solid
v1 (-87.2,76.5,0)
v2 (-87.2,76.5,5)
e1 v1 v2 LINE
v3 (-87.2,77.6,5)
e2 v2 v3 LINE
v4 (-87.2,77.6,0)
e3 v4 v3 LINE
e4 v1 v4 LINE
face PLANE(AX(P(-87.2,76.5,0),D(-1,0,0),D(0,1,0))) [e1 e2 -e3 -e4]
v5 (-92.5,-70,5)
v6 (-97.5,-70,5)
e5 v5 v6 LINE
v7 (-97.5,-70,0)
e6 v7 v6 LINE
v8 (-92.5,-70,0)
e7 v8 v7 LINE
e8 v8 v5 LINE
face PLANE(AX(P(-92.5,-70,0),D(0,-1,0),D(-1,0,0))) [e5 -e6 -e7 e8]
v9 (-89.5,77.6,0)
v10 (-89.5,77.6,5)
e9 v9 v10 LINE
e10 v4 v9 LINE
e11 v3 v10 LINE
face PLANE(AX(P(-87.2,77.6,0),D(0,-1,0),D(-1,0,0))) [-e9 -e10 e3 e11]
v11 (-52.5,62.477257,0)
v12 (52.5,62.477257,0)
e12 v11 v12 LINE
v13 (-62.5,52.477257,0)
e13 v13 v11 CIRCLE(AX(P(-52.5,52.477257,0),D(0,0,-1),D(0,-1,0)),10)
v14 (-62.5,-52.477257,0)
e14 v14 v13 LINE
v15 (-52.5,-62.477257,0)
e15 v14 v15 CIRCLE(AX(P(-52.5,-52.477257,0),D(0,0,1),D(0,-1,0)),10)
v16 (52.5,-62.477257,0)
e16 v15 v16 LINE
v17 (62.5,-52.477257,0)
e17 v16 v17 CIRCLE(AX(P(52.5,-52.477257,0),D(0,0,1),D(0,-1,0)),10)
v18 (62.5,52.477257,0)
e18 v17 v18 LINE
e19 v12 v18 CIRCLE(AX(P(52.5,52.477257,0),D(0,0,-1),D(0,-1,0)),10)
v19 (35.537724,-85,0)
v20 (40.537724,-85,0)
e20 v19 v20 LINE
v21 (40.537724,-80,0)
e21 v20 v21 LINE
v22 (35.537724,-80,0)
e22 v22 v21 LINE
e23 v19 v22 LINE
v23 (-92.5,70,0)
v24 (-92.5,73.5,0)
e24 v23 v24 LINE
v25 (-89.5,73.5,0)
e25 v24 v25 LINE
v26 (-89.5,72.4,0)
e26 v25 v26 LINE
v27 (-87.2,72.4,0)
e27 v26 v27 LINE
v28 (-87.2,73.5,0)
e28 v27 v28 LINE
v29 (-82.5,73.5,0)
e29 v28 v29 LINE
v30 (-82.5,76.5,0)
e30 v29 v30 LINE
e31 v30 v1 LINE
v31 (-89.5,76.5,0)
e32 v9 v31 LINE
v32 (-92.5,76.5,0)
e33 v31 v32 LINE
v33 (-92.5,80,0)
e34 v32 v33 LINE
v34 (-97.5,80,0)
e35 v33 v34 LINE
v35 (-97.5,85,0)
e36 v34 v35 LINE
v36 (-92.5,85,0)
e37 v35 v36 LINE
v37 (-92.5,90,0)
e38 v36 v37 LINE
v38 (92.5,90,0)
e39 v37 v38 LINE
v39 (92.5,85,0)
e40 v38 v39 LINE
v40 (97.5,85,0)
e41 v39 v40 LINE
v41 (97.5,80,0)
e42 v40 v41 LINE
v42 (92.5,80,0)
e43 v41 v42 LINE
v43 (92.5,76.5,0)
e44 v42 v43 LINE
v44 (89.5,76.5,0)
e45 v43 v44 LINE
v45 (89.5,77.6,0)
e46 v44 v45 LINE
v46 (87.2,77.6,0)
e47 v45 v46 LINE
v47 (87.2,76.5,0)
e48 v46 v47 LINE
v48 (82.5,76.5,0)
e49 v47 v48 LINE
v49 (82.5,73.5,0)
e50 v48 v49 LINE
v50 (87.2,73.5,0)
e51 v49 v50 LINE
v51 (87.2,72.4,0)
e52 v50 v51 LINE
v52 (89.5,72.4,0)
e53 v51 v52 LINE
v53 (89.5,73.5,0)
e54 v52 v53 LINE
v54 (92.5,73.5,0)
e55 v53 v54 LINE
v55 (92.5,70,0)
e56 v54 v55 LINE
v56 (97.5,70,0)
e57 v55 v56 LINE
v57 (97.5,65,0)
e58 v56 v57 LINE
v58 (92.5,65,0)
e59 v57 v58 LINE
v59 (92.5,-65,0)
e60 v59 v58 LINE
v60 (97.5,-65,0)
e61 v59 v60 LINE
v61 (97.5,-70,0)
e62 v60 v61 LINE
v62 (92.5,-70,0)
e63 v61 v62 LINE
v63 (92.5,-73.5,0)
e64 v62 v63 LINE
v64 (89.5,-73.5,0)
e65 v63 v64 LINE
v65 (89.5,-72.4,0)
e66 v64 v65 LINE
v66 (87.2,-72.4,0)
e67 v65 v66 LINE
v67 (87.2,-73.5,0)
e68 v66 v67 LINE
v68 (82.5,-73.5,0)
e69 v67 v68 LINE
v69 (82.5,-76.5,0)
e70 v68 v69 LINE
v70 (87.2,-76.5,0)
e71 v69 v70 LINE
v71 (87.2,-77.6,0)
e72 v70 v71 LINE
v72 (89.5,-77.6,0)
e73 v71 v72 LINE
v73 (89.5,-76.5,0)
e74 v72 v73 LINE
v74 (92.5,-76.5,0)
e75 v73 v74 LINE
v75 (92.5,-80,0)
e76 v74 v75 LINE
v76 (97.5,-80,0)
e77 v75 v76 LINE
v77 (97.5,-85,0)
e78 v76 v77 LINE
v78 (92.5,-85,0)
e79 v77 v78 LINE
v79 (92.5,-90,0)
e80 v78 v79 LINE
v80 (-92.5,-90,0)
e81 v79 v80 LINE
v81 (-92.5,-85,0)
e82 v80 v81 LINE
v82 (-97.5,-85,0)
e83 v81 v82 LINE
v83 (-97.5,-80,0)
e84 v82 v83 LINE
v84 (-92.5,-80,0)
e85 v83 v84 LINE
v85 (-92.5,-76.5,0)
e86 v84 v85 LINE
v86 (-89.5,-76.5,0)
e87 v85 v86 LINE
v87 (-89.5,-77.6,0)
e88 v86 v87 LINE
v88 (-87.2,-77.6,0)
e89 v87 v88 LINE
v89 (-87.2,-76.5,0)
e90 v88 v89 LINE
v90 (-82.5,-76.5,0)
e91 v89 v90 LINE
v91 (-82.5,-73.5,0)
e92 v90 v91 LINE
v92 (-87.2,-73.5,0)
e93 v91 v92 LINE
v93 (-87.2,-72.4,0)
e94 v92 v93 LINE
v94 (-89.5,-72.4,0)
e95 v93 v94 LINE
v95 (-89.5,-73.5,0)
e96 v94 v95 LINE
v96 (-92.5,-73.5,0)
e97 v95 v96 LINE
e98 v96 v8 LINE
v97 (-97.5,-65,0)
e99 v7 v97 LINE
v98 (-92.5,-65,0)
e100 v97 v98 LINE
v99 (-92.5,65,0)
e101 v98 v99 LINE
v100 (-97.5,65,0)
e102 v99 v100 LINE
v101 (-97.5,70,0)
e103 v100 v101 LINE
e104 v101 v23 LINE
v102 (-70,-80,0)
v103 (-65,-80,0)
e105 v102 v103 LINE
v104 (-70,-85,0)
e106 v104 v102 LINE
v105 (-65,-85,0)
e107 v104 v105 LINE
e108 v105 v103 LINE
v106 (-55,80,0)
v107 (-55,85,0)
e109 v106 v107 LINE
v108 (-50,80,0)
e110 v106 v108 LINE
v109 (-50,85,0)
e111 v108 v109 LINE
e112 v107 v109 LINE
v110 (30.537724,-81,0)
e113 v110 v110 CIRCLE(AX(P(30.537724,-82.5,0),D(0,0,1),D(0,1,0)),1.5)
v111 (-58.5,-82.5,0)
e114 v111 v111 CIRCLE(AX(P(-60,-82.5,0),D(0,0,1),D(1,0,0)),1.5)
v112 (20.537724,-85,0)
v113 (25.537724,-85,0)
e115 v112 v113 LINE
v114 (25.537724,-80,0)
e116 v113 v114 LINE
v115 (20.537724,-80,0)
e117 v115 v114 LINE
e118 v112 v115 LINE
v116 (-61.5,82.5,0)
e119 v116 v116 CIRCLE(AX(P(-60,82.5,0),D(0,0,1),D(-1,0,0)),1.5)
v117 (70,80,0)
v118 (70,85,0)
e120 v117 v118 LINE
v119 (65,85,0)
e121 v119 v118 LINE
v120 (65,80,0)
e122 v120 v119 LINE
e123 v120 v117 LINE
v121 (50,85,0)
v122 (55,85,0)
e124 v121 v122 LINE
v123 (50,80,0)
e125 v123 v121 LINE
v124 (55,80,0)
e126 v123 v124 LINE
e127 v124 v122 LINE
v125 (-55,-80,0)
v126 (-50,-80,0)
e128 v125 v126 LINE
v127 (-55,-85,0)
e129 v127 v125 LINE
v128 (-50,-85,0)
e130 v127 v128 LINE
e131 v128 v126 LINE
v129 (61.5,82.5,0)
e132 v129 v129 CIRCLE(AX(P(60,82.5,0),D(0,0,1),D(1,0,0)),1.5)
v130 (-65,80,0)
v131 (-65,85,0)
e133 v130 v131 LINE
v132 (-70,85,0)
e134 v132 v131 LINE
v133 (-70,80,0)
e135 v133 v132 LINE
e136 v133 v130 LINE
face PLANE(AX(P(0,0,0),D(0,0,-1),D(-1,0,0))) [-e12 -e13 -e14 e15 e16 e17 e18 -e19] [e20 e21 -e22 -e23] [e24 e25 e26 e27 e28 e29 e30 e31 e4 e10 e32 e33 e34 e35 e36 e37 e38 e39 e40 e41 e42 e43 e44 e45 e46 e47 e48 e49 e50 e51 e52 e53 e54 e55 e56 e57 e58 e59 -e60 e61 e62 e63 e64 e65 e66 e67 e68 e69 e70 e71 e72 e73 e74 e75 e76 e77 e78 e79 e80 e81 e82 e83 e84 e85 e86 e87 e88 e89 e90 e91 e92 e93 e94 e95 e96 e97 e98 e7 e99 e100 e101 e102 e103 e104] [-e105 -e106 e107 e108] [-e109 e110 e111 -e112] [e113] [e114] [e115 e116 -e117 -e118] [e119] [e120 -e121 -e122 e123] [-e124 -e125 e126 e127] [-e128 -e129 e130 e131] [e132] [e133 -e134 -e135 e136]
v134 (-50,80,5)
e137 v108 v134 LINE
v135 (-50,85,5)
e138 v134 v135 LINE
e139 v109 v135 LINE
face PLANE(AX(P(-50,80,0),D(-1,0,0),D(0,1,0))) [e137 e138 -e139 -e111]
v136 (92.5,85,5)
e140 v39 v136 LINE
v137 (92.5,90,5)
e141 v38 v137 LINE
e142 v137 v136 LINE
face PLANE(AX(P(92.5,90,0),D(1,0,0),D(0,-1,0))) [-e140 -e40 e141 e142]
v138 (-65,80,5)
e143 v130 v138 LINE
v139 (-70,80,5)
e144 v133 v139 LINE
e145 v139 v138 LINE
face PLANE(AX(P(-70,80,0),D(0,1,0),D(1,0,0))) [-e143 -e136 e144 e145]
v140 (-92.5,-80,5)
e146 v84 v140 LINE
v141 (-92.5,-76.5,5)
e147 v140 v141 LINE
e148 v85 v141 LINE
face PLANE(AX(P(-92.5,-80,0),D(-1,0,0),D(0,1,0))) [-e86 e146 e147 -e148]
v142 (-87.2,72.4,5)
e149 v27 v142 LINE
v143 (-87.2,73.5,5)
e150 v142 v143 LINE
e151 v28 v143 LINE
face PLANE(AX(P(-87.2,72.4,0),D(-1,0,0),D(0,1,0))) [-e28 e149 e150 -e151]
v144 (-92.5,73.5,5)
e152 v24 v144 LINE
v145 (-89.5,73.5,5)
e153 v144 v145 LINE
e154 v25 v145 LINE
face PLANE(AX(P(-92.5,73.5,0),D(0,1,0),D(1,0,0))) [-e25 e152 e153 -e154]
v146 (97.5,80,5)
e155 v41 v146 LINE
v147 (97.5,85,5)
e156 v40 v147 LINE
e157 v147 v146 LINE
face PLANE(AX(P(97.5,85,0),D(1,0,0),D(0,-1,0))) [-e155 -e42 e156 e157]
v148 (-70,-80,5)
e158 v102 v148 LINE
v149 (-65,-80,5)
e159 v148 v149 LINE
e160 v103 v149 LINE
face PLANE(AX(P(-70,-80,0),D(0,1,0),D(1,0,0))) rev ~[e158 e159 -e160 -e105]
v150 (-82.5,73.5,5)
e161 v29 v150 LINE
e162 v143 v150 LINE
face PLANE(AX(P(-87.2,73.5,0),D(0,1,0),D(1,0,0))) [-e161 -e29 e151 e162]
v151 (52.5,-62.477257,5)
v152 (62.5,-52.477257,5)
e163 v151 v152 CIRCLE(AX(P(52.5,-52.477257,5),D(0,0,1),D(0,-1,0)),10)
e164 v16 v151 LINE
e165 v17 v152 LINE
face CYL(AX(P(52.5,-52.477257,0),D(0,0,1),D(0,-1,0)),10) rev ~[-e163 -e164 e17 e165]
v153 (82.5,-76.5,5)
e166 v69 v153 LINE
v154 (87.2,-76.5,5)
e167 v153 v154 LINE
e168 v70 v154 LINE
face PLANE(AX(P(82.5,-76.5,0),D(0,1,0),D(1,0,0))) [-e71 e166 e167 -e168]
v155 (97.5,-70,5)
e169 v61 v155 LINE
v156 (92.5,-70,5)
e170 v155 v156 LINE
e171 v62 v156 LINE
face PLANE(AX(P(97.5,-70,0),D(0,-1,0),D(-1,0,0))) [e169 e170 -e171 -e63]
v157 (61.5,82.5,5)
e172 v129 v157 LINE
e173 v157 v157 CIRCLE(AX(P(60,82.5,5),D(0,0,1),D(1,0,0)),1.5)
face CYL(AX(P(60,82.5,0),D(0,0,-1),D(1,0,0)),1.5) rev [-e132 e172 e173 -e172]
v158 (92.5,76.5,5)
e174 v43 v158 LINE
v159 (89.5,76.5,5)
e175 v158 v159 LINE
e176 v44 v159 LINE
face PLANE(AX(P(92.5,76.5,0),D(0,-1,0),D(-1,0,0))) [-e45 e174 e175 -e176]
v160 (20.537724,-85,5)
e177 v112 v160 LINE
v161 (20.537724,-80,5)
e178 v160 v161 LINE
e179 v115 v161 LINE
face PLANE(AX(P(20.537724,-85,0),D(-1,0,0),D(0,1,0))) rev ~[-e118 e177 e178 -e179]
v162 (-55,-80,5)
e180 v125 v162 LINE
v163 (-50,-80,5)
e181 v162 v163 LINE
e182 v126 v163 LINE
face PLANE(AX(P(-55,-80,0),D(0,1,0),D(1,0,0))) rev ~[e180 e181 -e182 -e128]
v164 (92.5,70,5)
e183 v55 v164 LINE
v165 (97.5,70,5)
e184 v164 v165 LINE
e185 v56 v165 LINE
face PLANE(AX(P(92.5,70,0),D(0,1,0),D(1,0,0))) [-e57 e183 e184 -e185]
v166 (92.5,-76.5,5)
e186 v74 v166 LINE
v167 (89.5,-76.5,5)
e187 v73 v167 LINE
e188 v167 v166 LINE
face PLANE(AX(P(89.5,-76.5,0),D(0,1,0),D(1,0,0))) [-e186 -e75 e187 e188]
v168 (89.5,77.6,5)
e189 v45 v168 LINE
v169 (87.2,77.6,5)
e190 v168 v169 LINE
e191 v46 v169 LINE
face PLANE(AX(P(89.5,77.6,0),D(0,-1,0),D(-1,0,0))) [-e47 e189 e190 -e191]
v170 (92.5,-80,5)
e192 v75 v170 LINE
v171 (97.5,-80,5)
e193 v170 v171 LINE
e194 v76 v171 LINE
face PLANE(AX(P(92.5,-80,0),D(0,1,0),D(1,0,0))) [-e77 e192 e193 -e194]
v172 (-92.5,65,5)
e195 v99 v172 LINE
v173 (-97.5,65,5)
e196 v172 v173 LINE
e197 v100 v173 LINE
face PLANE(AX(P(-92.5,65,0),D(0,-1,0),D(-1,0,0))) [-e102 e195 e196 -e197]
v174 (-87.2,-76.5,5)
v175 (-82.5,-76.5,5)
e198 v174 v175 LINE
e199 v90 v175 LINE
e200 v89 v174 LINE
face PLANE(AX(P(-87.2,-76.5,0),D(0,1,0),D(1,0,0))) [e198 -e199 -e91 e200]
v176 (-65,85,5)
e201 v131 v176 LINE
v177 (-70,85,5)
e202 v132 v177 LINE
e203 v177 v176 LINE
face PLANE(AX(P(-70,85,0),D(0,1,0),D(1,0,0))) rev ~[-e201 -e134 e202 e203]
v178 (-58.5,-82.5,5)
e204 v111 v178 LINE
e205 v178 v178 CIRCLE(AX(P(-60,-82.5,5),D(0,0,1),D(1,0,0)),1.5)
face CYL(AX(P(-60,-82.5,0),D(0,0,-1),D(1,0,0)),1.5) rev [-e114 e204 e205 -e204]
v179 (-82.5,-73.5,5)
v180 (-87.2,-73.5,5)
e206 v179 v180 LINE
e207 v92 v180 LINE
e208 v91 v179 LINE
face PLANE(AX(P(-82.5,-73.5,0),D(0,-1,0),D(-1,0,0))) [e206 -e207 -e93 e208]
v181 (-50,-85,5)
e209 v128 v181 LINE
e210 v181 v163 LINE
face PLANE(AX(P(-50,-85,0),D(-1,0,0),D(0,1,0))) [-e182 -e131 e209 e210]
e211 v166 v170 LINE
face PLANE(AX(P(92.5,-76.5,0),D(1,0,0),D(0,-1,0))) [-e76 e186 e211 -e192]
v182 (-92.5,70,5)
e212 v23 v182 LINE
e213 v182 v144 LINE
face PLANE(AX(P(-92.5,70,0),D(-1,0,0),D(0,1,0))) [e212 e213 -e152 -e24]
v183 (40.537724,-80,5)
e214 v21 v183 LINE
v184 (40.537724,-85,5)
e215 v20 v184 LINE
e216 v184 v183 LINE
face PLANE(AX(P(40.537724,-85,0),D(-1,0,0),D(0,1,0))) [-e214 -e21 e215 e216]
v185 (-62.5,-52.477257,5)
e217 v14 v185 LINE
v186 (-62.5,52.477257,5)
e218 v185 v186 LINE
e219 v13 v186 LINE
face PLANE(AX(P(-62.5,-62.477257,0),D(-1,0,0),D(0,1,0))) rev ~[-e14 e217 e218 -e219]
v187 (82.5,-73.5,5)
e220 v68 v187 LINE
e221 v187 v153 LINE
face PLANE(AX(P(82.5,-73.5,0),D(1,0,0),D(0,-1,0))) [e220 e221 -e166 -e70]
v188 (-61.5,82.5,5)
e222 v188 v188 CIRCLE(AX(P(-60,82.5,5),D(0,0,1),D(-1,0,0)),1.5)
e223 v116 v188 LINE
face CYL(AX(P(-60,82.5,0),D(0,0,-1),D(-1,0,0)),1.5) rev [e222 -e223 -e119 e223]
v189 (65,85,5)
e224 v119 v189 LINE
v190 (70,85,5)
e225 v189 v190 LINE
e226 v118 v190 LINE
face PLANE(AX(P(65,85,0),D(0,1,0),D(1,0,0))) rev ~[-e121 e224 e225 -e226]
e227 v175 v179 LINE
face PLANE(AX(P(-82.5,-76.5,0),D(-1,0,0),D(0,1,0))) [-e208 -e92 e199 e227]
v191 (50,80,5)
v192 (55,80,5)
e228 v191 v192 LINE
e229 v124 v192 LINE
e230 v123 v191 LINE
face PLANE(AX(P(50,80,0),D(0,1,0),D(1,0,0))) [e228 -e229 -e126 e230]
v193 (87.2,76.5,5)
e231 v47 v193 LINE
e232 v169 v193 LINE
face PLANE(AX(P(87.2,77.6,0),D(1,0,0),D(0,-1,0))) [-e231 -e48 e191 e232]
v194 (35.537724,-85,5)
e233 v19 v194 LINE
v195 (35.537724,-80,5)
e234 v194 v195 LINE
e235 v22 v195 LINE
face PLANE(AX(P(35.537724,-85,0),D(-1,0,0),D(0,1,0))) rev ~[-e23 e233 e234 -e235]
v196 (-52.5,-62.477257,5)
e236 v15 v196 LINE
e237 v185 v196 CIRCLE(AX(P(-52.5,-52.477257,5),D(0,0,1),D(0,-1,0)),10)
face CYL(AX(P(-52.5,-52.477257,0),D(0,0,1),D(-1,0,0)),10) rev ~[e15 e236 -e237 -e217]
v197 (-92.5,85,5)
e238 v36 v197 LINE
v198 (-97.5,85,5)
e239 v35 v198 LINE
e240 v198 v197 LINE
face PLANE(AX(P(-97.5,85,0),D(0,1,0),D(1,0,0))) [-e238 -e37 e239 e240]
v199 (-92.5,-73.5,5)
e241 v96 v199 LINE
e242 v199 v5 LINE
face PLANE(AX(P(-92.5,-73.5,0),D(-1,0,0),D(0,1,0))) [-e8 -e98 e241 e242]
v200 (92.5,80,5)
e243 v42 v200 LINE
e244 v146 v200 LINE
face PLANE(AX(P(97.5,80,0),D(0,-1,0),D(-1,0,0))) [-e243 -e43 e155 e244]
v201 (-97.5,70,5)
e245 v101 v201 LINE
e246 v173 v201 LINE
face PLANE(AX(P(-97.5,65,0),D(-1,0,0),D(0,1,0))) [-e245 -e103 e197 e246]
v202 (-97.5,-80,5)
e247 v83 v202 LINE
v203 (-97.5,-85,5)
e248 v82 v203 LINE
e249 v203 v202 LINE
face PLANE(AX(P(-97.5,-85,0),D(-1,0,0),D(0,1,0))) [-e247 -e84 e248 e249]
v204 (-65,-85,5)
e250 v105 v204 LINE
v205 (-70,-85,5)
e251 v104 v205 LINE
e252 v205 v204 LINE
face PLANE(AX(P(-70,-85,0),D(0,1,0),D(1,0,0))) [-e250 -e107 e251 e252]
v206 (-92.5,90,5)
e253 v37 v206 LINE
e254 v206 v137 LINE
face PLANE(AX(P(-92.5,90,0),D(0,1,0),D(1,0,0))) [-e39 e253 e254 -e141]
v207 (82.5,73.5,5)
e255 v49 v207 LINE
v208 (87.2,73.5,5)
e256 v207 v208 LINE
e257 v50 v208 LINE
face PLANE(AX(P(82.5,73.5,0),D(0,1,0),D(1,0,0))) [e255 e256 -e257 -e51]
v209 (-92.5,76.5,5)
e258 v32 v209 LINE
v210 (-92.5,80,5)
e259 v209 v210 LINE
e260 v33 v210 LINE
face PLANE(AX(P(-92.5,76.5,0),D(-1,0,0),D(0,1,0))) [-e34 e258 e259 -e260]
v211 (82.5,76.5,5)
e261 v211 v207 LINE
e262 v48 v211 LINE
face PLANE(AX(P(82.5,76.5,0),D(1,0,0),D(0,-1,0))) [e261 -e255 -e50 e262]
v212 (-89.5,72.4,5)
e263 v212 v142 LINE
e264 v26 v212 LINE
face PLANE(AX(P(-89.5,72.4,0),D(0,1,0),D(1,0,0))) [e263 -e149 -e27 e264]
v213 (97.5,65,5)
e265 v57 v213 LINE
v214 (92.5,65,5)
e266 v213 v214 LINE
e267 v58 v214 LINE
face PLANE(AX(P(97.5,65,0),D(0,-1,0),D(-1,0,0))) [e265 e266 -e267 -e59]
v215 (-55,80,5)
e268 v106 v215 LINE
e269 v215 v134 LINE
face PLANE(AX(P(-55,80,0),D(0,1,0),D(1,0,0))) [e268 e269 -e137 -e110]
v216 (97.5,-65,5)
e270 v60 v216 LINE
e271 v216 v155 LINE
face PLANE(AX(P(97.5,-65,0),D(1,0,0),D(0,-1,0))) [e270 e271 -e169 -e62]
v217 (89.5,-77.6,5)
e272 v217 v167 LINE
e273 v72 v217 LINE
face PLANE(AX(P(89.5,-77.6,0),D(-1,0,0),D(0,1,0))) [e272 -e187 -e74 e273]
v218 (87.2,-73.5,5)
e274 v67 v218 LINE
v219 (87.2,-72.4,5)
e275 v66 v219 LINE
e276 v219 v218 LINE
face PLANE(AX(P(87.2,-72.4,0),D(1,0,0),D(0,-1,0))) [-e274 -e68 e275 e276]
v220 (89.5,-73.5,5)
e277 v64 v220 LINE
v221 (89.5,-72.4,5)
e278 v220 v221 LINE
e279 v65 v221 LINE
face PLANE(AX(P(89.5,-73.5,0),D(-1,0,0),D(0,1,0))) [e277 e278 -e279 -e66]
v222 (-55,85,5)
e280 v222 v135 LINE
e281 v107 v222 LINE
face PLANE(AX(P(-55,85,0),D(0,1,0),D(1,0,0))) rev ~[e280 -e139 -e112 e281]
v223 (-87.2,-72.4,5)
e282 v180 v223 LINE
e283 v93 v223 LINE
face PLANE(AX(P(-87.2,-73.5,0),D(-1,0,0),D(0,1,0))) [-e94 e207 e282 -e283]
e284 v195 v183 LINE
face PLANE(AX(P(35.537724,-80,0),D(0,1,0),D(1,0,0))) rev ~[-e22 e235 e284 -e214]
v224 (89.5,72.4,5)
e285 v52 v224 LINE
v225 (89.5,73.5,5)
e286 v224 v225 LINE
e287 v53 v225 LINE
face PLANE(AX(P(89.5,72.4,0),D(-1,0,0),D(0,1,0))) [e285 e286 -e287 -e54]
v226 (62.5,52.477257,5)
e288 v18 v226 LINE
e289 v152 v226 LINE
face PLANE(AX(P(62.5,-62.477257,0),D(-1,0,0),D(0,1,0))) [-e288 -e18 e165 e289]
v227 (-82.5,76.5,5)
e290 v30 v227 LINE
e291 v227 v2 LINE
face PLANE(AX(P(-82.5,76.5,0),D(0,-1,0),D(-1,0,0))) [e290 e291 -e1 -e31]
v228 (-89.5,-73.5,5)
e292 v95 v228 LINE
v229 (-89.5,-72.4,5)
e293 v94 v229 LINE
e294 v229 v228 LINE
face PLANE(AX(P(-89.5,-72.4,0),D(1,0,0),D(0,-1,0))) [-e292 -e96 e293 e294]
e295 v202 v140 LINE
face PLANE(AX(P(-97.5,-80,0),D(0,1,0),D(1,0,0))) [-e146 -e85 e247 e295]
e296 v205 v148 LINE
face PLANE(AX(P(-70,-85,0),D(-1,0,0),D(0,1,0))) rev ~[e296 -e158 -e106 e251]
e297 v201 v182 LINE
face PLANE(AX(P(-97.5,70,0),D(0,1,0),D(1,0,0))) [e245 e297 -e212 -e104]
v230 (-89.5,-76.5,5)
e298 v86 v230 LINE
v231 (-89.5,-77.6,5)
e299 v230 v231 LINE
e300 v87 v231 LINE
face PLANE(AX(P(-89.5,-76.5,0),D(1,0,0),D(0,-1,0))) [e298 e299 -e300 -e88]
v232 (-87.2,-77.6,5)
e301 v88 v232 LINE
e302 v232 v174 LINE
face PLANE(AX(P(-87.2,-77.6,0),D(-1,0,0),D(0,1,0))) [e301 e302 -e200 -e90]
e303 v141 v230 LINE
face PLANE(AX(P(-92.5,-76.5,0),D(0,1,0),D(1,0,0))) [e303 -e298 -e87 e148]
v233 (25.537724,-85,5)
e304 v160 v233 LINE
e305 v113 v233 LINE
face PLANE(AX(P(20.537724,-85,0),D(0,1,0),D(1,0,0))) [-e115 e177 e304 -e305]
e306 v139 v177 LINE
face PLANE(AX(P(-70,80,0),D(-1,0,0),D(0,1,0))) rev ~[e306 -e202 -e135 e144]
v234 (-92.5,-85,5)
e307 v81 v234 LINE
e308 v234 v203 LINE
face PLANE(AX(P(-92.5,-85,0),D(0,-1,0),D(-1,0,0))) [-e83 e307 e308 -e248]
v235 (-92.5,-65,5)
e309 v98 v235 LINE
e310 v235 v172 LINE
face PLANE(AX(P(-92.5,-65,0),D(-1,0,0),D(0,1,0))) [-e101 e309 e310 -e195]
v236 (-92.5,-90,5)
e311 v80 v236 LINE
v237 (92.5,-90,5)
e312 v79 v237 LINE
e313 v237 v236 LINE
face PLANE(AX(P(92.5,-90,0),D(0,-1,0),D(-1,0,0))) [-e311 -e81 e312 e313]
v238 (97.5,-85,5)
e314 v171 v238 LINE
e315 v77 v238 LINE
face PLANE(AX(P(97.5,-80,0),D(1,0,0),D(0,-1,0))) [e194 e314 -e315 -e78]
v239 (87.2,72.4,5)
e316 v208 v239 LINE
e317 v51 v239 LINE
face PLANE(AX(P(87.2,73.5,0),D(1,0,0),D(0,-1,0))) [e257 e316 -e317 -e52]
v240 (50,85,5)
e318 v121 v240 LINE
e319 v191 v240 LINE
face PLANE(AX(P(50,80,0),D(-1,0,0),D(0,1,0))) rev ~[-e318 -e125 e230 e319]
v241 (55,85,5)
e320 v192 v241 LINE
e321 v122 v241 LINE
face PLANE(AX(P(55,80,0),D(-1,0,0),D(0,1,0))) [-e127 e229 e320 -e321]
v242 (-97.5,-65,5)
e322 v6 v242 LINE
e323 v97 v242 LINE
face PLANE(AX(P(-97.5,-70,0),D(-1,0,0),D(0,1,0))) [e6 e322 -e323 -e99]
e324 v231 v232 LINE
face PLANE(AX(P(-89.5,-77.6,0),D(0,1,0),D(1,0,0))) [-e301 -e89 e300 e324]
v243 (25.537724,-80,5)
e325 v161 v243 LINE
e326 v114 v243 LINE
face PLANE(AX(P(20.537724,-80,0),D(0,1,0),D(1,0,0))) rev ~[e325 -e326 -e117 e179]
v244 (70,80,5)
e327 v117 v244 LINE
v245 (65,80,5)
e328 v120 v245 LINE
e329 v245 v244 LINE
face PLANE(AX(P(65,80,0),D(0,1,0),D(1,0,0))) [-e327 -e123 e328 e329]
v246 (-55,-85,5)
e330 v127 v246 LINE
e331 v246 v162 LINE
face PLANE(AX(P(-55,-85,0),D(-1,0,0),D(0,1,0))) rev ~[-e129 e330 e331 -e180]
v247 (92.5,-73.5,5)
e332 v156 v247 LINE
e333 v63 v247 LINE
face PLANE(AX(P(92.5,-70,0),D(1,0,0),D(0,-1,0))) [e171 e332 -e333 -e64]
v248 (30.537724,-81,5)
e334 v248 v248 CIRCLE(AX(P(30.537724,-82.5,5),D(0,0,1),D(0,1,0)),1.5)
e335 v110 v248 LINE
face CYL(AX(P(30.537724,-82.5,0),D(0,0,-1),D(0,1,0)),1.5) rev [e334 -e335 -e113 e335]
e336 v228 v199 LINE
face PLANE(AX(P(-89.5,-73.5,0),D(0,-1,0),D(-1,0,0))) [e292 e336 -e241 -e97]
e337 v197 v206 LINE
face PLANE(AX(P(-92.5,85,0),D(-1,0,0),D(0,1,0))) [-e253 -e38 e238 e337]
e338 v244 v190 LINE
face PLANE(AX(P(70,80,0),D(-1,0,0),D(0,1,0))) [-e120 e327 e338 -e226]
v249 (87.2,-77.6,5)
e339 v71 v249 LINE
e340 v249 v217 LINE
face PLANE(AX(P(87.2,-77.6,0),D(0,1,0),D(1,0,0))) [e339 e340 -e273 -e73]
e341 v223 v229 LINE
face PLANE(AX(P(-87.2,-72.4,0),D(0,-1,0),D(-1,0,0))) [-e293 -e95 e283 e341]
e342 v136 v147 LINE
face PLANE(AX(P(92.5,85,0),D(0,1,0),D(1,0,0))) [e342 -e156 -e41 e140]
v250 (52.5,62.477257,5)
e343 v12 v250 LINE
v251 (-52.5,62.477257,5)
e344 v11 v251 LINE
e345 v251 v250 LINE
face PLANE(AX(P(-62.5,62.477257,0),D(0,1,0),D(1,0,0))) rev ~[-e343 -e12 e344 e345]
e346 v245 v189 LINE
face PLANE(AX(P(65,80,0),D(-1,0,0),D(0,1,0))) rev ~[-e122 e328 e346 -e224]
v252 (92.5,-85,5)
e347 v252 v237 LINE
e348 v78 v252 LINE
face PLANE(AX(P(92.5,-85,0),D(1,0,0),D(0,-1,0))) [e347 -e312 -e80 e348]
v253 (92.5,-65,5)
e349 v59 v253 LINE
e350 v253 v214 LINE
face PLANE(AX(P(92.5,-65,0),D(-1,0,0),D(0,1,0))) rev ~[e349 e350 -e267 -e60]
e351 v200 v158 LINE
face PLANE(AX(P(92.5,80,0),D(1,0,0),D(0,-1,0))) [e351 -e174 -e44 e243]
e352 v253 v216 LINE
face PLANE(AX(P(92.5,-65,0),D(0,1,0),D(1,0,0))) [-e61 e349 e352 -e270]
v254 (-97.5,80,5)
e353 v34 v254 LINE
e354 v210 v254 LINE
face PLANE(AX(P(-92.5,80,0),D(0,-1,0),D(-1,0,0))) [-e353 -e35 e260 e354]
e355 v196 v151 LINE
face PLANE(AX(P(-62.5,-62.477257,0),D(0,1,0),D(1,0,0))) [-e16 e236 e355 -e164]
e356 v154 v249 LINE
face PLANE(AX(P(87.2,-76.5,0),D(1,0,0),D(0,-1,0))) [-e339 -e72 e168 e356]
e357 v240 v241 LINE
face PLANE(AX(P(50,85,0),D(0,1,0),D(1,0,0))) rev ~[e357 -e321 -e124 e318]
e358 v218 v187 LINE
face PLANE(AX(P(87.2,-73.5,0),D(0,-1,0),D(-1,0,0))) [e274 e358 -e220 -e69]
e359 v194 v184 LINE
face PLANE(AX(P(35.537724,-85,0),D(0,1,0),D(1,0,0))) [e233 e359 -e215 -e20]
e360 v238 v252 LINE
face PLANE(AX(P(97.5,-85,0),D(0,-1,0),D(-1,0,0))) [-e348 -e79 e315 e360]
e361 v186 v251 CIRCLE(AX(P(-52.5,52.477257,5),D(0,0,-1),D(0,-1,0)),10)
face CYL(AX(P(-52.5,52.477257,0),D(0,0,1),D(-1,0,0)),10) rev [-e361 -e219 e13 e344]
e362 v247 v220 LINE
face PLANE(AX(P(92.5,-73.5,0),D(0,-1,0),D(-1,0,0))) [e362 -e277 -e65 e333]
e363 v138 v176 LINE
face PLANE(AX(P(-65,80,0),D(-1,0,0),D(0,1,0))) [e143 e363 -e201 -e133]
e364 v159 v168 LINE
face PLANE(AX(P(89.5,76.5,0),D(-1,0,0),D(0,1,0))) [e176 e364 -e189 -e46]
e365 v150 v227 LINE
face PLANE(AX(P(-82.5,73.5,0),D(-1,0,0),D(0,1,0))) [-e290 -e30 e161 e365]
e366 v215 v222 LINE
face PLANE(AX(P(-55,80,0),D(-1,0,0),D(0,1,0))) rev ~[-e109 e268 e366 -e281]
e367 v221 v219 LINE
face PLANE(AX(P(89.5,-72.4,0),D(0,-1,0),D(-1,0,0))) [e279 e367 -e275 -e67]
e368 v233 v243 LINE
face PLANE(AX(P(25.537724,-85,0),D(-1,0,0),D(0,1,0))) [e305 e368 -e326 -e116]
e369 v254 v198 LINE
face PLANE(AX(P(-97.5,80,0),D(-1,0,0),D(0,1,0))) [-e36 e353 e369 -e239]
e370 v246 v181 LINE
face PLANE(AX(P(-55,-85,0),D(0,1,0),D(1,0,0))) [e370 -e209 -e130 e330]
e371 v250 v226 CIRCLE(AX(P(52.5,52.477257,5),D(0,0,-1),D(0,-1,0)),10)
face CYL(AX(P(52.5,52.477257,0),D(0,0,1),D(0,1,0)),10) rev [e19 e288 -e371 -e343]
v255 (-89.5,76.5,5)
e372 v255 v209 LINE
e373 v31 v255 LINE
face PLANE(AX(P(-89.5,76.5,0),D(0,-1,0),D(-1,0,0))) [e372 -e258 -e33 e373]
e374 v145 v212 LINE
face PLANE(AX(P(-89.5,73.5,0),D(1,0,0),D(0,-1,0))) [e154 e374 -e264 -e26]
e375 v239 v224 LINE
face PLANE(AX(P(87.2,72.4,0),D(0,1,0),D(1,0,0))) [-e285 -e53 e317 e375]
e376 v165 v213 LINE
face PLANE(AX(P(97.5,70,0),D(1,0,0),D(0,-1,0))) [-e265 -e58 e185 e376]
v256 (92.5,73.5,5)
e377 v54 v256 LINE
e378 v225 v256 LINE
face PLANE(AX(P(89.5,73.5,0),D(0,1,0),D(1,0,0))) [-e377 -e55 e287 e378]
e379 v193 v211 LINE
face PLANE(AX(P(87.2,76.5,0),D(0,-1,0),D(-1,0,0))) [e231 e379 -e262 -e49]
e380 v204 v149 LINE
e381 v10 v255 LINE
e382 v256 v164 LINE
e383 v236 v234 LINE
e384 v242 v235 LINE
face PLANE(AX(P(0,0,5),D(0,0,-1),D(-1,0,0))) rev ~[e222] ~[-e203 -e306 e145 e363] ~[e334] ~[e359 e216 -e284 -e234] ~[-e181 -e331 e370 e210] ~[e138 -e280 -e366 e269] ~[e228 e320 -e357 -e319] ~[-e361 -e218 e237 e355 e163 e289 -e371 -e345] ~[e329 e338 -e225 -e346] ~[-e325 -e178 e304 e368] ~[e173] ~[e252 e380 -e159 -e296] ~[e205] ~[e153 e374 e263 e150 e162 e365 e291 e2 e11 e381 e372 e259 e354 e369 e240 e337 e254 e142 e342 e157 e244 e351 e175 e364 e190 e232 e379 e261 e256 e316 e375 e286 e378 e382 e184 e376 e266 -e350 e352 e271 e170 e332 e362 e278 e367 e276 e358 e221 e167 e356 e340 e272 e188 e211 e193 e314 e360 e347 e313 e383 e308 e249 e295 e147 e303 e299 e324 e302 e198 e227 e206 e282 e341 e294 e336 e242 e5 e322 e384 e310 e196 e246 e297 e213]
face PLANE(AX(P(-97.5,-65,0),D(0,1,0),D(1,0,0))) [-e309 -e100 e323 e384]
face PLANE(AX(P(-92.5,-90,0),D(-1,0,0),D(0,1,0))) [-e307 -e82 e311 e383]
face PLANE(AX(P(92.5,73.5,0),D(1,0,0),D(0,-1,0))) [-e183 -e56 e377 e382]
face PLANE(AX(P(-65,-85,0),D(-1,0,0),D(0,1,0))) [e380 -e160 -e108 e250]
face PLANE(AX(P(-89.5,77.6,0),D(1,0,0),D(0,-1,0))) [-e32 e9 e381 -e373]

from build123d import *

# Parameters (mm, degrees)
SKETCH1_R           = 1.5
SKETCH1_W           = 125
SKETCH1_H           = 124.954514062
SKETCH1_W_2         = 5
SKETCH1_H_2         = 5
BOSS_EXTRUDE1_DEPTH = 5
FILLET1_R           = 10


with BuildPart() as part:
    # Sketch1 → Boss-Extrude1 (new body)
    with BuildSketch(Plane.XY):
        Polygon((92.5, 62.5), (92.5, -62.5), (92.5, -65), (97.5, -65), (97.5, -70), (92.5, -70), (92.5, -73.5), (89.5, -73.5), (89.5, -72.4), (87.2, -72.4), (87.2, -73.5), (82.5, -73.5), (82.5, -76.5), (87.2, -76.5), (87.2, -77.6), (89.5, -77.6), (89.5, -76.5), (92.5, -76.5), (92.5, -80), (97.5, -80), (97.5, -85), (92.5, -85), (92.5, -90), (-92.5, -90), (-92.5, -85), (-97.5, -85), (-97.5, -80), (-92.5, -80), (-92.5, -76.5), (-89.5, -76.5), (-89.5, -77.6), (-87.2, -77.6), (-87.2, -76.5), (-82.5, -76.5), (-82.5, -73.5), (-87.2, -73.5), (-87.2, -72.4), (-89.5, -72.4), (-89.5, -73.5), (-92.5, -73.5), (-92.5, -70), (-97.5, -70), (-97.5, -65), (-92.5, -65), (-92.5, 65), (-97.5, 65), (-97.5, 70), (-92.5, 70), (-92.5, 73.5), (-89.5, 73.5), (-89.5, 72.4), (-87.2, 72.4), (-87.2, 73.5), (-82.5, 73.5), (-82.5, 76.5), (-87.2, 76.5), (-87.2, 77.6), (-89.5, 77.6), (-89.5, 76.5), (-92.5, 76.5), (-92.5, 80), (-97.5, 80), (-97.5, 85), (-92.5, 85), (-92.5, 90), (92.5, 90), (92.5, 85), (97.5, 85), (97.5, 80), (92.5, 80), (92.5, 76.5), (89.5, 76.5), (89.5, 77.6), (87.2, 77.6), (87.2, 76.5), (82.5, 76.5), (82.5, 73.5), (87.2, 73.5), (87.2, 72.4), (89.5, 72.4), (89.5, 73.5), (92.5, 73.5), (92.5, 70), (97.5, 70), (97.5, 65), (92.5, 65), align=None)
        with Locations((60, 82.5)):
            Circle(SKETCH1_R, mode=Mode.SUBTRACT)
        with Locations((-60, -82.5)):
            Circle(SKETCH1_R, mode=Mode.SUBTRACT)
        with Locations(Location((-60, 82.5, 0), (0, 0, 180))):
            Circle(SKETCH1_R, mode=Mode.SUBTRACT)
        with Locations(Location((30.537723616, -82.5, 0), (0, 0, 90))):
            Circle(SKETCH1_R, mode=Mode.SUBTRACT)
        Rectangle(SKETCH1_W, SKETCH1_H, mode=Mode.SUBTRACT)
        with Locations((52.5, 82.5)):
            Rectangle(SKETCH1_W_2, SKETCH1_H_2, mode=Mode.SUBTRACT)
        with Locations((67.5, 82.5)):
            Rectangle(SKETCH1_W_2, SKETCH1_H_2, mode=Mode.SUBTRACT)
        with Locations((-52.5, -82.5)):
            Rectangle(SKETCH1_W_2, SKETCH1_H_2, mode=Mode.SUBTRACT)
        with Locations((-67.5, -82.5)):
            Rectangle(SKETCH1_W_2, SKETCH1_H_2, mode=Mode.SUBTRACT)
        with Locations((-52.5, 82.5)):
            Rectangle(SKETCH1_W_2, SKETCH1_H_2, mode=Mode.SUBTRACT)
        with Locations((-67.5, 82.5)):
            Rectangle(SKETCH1_W_2, SKETCH1_H_2, mode=Mode.SUBTRACT)
        with Locations((23.037723616, -82.5)):
            Rectangle(SKETCH1_W_2, SKETCH1_H_2, mode=Mode.SUBTRACT)
        with Locations((38.037723616, -82.5)):
            Rectangle(SKETCH1_W_2, SKETCH1_H_2, mode=Mode.SUBTRACT)
    extrude(amount=BOSS_EXTRUDE1_DEPTH)

    # Fillet1
    fillet1_edges = [part.edges().sort_by_distance(p)[0] for p in [
        (62.5, -62.477257031, 2.5),
        (62.5, 62.477257031, 2.5),
        (-62.5, 62.477257031, 2.5),
        (-62.5, -62.477257031, 2.5),
    ]]
    fillet(fillet1_edges, radius=FILLET1_R)


solid = part.part
